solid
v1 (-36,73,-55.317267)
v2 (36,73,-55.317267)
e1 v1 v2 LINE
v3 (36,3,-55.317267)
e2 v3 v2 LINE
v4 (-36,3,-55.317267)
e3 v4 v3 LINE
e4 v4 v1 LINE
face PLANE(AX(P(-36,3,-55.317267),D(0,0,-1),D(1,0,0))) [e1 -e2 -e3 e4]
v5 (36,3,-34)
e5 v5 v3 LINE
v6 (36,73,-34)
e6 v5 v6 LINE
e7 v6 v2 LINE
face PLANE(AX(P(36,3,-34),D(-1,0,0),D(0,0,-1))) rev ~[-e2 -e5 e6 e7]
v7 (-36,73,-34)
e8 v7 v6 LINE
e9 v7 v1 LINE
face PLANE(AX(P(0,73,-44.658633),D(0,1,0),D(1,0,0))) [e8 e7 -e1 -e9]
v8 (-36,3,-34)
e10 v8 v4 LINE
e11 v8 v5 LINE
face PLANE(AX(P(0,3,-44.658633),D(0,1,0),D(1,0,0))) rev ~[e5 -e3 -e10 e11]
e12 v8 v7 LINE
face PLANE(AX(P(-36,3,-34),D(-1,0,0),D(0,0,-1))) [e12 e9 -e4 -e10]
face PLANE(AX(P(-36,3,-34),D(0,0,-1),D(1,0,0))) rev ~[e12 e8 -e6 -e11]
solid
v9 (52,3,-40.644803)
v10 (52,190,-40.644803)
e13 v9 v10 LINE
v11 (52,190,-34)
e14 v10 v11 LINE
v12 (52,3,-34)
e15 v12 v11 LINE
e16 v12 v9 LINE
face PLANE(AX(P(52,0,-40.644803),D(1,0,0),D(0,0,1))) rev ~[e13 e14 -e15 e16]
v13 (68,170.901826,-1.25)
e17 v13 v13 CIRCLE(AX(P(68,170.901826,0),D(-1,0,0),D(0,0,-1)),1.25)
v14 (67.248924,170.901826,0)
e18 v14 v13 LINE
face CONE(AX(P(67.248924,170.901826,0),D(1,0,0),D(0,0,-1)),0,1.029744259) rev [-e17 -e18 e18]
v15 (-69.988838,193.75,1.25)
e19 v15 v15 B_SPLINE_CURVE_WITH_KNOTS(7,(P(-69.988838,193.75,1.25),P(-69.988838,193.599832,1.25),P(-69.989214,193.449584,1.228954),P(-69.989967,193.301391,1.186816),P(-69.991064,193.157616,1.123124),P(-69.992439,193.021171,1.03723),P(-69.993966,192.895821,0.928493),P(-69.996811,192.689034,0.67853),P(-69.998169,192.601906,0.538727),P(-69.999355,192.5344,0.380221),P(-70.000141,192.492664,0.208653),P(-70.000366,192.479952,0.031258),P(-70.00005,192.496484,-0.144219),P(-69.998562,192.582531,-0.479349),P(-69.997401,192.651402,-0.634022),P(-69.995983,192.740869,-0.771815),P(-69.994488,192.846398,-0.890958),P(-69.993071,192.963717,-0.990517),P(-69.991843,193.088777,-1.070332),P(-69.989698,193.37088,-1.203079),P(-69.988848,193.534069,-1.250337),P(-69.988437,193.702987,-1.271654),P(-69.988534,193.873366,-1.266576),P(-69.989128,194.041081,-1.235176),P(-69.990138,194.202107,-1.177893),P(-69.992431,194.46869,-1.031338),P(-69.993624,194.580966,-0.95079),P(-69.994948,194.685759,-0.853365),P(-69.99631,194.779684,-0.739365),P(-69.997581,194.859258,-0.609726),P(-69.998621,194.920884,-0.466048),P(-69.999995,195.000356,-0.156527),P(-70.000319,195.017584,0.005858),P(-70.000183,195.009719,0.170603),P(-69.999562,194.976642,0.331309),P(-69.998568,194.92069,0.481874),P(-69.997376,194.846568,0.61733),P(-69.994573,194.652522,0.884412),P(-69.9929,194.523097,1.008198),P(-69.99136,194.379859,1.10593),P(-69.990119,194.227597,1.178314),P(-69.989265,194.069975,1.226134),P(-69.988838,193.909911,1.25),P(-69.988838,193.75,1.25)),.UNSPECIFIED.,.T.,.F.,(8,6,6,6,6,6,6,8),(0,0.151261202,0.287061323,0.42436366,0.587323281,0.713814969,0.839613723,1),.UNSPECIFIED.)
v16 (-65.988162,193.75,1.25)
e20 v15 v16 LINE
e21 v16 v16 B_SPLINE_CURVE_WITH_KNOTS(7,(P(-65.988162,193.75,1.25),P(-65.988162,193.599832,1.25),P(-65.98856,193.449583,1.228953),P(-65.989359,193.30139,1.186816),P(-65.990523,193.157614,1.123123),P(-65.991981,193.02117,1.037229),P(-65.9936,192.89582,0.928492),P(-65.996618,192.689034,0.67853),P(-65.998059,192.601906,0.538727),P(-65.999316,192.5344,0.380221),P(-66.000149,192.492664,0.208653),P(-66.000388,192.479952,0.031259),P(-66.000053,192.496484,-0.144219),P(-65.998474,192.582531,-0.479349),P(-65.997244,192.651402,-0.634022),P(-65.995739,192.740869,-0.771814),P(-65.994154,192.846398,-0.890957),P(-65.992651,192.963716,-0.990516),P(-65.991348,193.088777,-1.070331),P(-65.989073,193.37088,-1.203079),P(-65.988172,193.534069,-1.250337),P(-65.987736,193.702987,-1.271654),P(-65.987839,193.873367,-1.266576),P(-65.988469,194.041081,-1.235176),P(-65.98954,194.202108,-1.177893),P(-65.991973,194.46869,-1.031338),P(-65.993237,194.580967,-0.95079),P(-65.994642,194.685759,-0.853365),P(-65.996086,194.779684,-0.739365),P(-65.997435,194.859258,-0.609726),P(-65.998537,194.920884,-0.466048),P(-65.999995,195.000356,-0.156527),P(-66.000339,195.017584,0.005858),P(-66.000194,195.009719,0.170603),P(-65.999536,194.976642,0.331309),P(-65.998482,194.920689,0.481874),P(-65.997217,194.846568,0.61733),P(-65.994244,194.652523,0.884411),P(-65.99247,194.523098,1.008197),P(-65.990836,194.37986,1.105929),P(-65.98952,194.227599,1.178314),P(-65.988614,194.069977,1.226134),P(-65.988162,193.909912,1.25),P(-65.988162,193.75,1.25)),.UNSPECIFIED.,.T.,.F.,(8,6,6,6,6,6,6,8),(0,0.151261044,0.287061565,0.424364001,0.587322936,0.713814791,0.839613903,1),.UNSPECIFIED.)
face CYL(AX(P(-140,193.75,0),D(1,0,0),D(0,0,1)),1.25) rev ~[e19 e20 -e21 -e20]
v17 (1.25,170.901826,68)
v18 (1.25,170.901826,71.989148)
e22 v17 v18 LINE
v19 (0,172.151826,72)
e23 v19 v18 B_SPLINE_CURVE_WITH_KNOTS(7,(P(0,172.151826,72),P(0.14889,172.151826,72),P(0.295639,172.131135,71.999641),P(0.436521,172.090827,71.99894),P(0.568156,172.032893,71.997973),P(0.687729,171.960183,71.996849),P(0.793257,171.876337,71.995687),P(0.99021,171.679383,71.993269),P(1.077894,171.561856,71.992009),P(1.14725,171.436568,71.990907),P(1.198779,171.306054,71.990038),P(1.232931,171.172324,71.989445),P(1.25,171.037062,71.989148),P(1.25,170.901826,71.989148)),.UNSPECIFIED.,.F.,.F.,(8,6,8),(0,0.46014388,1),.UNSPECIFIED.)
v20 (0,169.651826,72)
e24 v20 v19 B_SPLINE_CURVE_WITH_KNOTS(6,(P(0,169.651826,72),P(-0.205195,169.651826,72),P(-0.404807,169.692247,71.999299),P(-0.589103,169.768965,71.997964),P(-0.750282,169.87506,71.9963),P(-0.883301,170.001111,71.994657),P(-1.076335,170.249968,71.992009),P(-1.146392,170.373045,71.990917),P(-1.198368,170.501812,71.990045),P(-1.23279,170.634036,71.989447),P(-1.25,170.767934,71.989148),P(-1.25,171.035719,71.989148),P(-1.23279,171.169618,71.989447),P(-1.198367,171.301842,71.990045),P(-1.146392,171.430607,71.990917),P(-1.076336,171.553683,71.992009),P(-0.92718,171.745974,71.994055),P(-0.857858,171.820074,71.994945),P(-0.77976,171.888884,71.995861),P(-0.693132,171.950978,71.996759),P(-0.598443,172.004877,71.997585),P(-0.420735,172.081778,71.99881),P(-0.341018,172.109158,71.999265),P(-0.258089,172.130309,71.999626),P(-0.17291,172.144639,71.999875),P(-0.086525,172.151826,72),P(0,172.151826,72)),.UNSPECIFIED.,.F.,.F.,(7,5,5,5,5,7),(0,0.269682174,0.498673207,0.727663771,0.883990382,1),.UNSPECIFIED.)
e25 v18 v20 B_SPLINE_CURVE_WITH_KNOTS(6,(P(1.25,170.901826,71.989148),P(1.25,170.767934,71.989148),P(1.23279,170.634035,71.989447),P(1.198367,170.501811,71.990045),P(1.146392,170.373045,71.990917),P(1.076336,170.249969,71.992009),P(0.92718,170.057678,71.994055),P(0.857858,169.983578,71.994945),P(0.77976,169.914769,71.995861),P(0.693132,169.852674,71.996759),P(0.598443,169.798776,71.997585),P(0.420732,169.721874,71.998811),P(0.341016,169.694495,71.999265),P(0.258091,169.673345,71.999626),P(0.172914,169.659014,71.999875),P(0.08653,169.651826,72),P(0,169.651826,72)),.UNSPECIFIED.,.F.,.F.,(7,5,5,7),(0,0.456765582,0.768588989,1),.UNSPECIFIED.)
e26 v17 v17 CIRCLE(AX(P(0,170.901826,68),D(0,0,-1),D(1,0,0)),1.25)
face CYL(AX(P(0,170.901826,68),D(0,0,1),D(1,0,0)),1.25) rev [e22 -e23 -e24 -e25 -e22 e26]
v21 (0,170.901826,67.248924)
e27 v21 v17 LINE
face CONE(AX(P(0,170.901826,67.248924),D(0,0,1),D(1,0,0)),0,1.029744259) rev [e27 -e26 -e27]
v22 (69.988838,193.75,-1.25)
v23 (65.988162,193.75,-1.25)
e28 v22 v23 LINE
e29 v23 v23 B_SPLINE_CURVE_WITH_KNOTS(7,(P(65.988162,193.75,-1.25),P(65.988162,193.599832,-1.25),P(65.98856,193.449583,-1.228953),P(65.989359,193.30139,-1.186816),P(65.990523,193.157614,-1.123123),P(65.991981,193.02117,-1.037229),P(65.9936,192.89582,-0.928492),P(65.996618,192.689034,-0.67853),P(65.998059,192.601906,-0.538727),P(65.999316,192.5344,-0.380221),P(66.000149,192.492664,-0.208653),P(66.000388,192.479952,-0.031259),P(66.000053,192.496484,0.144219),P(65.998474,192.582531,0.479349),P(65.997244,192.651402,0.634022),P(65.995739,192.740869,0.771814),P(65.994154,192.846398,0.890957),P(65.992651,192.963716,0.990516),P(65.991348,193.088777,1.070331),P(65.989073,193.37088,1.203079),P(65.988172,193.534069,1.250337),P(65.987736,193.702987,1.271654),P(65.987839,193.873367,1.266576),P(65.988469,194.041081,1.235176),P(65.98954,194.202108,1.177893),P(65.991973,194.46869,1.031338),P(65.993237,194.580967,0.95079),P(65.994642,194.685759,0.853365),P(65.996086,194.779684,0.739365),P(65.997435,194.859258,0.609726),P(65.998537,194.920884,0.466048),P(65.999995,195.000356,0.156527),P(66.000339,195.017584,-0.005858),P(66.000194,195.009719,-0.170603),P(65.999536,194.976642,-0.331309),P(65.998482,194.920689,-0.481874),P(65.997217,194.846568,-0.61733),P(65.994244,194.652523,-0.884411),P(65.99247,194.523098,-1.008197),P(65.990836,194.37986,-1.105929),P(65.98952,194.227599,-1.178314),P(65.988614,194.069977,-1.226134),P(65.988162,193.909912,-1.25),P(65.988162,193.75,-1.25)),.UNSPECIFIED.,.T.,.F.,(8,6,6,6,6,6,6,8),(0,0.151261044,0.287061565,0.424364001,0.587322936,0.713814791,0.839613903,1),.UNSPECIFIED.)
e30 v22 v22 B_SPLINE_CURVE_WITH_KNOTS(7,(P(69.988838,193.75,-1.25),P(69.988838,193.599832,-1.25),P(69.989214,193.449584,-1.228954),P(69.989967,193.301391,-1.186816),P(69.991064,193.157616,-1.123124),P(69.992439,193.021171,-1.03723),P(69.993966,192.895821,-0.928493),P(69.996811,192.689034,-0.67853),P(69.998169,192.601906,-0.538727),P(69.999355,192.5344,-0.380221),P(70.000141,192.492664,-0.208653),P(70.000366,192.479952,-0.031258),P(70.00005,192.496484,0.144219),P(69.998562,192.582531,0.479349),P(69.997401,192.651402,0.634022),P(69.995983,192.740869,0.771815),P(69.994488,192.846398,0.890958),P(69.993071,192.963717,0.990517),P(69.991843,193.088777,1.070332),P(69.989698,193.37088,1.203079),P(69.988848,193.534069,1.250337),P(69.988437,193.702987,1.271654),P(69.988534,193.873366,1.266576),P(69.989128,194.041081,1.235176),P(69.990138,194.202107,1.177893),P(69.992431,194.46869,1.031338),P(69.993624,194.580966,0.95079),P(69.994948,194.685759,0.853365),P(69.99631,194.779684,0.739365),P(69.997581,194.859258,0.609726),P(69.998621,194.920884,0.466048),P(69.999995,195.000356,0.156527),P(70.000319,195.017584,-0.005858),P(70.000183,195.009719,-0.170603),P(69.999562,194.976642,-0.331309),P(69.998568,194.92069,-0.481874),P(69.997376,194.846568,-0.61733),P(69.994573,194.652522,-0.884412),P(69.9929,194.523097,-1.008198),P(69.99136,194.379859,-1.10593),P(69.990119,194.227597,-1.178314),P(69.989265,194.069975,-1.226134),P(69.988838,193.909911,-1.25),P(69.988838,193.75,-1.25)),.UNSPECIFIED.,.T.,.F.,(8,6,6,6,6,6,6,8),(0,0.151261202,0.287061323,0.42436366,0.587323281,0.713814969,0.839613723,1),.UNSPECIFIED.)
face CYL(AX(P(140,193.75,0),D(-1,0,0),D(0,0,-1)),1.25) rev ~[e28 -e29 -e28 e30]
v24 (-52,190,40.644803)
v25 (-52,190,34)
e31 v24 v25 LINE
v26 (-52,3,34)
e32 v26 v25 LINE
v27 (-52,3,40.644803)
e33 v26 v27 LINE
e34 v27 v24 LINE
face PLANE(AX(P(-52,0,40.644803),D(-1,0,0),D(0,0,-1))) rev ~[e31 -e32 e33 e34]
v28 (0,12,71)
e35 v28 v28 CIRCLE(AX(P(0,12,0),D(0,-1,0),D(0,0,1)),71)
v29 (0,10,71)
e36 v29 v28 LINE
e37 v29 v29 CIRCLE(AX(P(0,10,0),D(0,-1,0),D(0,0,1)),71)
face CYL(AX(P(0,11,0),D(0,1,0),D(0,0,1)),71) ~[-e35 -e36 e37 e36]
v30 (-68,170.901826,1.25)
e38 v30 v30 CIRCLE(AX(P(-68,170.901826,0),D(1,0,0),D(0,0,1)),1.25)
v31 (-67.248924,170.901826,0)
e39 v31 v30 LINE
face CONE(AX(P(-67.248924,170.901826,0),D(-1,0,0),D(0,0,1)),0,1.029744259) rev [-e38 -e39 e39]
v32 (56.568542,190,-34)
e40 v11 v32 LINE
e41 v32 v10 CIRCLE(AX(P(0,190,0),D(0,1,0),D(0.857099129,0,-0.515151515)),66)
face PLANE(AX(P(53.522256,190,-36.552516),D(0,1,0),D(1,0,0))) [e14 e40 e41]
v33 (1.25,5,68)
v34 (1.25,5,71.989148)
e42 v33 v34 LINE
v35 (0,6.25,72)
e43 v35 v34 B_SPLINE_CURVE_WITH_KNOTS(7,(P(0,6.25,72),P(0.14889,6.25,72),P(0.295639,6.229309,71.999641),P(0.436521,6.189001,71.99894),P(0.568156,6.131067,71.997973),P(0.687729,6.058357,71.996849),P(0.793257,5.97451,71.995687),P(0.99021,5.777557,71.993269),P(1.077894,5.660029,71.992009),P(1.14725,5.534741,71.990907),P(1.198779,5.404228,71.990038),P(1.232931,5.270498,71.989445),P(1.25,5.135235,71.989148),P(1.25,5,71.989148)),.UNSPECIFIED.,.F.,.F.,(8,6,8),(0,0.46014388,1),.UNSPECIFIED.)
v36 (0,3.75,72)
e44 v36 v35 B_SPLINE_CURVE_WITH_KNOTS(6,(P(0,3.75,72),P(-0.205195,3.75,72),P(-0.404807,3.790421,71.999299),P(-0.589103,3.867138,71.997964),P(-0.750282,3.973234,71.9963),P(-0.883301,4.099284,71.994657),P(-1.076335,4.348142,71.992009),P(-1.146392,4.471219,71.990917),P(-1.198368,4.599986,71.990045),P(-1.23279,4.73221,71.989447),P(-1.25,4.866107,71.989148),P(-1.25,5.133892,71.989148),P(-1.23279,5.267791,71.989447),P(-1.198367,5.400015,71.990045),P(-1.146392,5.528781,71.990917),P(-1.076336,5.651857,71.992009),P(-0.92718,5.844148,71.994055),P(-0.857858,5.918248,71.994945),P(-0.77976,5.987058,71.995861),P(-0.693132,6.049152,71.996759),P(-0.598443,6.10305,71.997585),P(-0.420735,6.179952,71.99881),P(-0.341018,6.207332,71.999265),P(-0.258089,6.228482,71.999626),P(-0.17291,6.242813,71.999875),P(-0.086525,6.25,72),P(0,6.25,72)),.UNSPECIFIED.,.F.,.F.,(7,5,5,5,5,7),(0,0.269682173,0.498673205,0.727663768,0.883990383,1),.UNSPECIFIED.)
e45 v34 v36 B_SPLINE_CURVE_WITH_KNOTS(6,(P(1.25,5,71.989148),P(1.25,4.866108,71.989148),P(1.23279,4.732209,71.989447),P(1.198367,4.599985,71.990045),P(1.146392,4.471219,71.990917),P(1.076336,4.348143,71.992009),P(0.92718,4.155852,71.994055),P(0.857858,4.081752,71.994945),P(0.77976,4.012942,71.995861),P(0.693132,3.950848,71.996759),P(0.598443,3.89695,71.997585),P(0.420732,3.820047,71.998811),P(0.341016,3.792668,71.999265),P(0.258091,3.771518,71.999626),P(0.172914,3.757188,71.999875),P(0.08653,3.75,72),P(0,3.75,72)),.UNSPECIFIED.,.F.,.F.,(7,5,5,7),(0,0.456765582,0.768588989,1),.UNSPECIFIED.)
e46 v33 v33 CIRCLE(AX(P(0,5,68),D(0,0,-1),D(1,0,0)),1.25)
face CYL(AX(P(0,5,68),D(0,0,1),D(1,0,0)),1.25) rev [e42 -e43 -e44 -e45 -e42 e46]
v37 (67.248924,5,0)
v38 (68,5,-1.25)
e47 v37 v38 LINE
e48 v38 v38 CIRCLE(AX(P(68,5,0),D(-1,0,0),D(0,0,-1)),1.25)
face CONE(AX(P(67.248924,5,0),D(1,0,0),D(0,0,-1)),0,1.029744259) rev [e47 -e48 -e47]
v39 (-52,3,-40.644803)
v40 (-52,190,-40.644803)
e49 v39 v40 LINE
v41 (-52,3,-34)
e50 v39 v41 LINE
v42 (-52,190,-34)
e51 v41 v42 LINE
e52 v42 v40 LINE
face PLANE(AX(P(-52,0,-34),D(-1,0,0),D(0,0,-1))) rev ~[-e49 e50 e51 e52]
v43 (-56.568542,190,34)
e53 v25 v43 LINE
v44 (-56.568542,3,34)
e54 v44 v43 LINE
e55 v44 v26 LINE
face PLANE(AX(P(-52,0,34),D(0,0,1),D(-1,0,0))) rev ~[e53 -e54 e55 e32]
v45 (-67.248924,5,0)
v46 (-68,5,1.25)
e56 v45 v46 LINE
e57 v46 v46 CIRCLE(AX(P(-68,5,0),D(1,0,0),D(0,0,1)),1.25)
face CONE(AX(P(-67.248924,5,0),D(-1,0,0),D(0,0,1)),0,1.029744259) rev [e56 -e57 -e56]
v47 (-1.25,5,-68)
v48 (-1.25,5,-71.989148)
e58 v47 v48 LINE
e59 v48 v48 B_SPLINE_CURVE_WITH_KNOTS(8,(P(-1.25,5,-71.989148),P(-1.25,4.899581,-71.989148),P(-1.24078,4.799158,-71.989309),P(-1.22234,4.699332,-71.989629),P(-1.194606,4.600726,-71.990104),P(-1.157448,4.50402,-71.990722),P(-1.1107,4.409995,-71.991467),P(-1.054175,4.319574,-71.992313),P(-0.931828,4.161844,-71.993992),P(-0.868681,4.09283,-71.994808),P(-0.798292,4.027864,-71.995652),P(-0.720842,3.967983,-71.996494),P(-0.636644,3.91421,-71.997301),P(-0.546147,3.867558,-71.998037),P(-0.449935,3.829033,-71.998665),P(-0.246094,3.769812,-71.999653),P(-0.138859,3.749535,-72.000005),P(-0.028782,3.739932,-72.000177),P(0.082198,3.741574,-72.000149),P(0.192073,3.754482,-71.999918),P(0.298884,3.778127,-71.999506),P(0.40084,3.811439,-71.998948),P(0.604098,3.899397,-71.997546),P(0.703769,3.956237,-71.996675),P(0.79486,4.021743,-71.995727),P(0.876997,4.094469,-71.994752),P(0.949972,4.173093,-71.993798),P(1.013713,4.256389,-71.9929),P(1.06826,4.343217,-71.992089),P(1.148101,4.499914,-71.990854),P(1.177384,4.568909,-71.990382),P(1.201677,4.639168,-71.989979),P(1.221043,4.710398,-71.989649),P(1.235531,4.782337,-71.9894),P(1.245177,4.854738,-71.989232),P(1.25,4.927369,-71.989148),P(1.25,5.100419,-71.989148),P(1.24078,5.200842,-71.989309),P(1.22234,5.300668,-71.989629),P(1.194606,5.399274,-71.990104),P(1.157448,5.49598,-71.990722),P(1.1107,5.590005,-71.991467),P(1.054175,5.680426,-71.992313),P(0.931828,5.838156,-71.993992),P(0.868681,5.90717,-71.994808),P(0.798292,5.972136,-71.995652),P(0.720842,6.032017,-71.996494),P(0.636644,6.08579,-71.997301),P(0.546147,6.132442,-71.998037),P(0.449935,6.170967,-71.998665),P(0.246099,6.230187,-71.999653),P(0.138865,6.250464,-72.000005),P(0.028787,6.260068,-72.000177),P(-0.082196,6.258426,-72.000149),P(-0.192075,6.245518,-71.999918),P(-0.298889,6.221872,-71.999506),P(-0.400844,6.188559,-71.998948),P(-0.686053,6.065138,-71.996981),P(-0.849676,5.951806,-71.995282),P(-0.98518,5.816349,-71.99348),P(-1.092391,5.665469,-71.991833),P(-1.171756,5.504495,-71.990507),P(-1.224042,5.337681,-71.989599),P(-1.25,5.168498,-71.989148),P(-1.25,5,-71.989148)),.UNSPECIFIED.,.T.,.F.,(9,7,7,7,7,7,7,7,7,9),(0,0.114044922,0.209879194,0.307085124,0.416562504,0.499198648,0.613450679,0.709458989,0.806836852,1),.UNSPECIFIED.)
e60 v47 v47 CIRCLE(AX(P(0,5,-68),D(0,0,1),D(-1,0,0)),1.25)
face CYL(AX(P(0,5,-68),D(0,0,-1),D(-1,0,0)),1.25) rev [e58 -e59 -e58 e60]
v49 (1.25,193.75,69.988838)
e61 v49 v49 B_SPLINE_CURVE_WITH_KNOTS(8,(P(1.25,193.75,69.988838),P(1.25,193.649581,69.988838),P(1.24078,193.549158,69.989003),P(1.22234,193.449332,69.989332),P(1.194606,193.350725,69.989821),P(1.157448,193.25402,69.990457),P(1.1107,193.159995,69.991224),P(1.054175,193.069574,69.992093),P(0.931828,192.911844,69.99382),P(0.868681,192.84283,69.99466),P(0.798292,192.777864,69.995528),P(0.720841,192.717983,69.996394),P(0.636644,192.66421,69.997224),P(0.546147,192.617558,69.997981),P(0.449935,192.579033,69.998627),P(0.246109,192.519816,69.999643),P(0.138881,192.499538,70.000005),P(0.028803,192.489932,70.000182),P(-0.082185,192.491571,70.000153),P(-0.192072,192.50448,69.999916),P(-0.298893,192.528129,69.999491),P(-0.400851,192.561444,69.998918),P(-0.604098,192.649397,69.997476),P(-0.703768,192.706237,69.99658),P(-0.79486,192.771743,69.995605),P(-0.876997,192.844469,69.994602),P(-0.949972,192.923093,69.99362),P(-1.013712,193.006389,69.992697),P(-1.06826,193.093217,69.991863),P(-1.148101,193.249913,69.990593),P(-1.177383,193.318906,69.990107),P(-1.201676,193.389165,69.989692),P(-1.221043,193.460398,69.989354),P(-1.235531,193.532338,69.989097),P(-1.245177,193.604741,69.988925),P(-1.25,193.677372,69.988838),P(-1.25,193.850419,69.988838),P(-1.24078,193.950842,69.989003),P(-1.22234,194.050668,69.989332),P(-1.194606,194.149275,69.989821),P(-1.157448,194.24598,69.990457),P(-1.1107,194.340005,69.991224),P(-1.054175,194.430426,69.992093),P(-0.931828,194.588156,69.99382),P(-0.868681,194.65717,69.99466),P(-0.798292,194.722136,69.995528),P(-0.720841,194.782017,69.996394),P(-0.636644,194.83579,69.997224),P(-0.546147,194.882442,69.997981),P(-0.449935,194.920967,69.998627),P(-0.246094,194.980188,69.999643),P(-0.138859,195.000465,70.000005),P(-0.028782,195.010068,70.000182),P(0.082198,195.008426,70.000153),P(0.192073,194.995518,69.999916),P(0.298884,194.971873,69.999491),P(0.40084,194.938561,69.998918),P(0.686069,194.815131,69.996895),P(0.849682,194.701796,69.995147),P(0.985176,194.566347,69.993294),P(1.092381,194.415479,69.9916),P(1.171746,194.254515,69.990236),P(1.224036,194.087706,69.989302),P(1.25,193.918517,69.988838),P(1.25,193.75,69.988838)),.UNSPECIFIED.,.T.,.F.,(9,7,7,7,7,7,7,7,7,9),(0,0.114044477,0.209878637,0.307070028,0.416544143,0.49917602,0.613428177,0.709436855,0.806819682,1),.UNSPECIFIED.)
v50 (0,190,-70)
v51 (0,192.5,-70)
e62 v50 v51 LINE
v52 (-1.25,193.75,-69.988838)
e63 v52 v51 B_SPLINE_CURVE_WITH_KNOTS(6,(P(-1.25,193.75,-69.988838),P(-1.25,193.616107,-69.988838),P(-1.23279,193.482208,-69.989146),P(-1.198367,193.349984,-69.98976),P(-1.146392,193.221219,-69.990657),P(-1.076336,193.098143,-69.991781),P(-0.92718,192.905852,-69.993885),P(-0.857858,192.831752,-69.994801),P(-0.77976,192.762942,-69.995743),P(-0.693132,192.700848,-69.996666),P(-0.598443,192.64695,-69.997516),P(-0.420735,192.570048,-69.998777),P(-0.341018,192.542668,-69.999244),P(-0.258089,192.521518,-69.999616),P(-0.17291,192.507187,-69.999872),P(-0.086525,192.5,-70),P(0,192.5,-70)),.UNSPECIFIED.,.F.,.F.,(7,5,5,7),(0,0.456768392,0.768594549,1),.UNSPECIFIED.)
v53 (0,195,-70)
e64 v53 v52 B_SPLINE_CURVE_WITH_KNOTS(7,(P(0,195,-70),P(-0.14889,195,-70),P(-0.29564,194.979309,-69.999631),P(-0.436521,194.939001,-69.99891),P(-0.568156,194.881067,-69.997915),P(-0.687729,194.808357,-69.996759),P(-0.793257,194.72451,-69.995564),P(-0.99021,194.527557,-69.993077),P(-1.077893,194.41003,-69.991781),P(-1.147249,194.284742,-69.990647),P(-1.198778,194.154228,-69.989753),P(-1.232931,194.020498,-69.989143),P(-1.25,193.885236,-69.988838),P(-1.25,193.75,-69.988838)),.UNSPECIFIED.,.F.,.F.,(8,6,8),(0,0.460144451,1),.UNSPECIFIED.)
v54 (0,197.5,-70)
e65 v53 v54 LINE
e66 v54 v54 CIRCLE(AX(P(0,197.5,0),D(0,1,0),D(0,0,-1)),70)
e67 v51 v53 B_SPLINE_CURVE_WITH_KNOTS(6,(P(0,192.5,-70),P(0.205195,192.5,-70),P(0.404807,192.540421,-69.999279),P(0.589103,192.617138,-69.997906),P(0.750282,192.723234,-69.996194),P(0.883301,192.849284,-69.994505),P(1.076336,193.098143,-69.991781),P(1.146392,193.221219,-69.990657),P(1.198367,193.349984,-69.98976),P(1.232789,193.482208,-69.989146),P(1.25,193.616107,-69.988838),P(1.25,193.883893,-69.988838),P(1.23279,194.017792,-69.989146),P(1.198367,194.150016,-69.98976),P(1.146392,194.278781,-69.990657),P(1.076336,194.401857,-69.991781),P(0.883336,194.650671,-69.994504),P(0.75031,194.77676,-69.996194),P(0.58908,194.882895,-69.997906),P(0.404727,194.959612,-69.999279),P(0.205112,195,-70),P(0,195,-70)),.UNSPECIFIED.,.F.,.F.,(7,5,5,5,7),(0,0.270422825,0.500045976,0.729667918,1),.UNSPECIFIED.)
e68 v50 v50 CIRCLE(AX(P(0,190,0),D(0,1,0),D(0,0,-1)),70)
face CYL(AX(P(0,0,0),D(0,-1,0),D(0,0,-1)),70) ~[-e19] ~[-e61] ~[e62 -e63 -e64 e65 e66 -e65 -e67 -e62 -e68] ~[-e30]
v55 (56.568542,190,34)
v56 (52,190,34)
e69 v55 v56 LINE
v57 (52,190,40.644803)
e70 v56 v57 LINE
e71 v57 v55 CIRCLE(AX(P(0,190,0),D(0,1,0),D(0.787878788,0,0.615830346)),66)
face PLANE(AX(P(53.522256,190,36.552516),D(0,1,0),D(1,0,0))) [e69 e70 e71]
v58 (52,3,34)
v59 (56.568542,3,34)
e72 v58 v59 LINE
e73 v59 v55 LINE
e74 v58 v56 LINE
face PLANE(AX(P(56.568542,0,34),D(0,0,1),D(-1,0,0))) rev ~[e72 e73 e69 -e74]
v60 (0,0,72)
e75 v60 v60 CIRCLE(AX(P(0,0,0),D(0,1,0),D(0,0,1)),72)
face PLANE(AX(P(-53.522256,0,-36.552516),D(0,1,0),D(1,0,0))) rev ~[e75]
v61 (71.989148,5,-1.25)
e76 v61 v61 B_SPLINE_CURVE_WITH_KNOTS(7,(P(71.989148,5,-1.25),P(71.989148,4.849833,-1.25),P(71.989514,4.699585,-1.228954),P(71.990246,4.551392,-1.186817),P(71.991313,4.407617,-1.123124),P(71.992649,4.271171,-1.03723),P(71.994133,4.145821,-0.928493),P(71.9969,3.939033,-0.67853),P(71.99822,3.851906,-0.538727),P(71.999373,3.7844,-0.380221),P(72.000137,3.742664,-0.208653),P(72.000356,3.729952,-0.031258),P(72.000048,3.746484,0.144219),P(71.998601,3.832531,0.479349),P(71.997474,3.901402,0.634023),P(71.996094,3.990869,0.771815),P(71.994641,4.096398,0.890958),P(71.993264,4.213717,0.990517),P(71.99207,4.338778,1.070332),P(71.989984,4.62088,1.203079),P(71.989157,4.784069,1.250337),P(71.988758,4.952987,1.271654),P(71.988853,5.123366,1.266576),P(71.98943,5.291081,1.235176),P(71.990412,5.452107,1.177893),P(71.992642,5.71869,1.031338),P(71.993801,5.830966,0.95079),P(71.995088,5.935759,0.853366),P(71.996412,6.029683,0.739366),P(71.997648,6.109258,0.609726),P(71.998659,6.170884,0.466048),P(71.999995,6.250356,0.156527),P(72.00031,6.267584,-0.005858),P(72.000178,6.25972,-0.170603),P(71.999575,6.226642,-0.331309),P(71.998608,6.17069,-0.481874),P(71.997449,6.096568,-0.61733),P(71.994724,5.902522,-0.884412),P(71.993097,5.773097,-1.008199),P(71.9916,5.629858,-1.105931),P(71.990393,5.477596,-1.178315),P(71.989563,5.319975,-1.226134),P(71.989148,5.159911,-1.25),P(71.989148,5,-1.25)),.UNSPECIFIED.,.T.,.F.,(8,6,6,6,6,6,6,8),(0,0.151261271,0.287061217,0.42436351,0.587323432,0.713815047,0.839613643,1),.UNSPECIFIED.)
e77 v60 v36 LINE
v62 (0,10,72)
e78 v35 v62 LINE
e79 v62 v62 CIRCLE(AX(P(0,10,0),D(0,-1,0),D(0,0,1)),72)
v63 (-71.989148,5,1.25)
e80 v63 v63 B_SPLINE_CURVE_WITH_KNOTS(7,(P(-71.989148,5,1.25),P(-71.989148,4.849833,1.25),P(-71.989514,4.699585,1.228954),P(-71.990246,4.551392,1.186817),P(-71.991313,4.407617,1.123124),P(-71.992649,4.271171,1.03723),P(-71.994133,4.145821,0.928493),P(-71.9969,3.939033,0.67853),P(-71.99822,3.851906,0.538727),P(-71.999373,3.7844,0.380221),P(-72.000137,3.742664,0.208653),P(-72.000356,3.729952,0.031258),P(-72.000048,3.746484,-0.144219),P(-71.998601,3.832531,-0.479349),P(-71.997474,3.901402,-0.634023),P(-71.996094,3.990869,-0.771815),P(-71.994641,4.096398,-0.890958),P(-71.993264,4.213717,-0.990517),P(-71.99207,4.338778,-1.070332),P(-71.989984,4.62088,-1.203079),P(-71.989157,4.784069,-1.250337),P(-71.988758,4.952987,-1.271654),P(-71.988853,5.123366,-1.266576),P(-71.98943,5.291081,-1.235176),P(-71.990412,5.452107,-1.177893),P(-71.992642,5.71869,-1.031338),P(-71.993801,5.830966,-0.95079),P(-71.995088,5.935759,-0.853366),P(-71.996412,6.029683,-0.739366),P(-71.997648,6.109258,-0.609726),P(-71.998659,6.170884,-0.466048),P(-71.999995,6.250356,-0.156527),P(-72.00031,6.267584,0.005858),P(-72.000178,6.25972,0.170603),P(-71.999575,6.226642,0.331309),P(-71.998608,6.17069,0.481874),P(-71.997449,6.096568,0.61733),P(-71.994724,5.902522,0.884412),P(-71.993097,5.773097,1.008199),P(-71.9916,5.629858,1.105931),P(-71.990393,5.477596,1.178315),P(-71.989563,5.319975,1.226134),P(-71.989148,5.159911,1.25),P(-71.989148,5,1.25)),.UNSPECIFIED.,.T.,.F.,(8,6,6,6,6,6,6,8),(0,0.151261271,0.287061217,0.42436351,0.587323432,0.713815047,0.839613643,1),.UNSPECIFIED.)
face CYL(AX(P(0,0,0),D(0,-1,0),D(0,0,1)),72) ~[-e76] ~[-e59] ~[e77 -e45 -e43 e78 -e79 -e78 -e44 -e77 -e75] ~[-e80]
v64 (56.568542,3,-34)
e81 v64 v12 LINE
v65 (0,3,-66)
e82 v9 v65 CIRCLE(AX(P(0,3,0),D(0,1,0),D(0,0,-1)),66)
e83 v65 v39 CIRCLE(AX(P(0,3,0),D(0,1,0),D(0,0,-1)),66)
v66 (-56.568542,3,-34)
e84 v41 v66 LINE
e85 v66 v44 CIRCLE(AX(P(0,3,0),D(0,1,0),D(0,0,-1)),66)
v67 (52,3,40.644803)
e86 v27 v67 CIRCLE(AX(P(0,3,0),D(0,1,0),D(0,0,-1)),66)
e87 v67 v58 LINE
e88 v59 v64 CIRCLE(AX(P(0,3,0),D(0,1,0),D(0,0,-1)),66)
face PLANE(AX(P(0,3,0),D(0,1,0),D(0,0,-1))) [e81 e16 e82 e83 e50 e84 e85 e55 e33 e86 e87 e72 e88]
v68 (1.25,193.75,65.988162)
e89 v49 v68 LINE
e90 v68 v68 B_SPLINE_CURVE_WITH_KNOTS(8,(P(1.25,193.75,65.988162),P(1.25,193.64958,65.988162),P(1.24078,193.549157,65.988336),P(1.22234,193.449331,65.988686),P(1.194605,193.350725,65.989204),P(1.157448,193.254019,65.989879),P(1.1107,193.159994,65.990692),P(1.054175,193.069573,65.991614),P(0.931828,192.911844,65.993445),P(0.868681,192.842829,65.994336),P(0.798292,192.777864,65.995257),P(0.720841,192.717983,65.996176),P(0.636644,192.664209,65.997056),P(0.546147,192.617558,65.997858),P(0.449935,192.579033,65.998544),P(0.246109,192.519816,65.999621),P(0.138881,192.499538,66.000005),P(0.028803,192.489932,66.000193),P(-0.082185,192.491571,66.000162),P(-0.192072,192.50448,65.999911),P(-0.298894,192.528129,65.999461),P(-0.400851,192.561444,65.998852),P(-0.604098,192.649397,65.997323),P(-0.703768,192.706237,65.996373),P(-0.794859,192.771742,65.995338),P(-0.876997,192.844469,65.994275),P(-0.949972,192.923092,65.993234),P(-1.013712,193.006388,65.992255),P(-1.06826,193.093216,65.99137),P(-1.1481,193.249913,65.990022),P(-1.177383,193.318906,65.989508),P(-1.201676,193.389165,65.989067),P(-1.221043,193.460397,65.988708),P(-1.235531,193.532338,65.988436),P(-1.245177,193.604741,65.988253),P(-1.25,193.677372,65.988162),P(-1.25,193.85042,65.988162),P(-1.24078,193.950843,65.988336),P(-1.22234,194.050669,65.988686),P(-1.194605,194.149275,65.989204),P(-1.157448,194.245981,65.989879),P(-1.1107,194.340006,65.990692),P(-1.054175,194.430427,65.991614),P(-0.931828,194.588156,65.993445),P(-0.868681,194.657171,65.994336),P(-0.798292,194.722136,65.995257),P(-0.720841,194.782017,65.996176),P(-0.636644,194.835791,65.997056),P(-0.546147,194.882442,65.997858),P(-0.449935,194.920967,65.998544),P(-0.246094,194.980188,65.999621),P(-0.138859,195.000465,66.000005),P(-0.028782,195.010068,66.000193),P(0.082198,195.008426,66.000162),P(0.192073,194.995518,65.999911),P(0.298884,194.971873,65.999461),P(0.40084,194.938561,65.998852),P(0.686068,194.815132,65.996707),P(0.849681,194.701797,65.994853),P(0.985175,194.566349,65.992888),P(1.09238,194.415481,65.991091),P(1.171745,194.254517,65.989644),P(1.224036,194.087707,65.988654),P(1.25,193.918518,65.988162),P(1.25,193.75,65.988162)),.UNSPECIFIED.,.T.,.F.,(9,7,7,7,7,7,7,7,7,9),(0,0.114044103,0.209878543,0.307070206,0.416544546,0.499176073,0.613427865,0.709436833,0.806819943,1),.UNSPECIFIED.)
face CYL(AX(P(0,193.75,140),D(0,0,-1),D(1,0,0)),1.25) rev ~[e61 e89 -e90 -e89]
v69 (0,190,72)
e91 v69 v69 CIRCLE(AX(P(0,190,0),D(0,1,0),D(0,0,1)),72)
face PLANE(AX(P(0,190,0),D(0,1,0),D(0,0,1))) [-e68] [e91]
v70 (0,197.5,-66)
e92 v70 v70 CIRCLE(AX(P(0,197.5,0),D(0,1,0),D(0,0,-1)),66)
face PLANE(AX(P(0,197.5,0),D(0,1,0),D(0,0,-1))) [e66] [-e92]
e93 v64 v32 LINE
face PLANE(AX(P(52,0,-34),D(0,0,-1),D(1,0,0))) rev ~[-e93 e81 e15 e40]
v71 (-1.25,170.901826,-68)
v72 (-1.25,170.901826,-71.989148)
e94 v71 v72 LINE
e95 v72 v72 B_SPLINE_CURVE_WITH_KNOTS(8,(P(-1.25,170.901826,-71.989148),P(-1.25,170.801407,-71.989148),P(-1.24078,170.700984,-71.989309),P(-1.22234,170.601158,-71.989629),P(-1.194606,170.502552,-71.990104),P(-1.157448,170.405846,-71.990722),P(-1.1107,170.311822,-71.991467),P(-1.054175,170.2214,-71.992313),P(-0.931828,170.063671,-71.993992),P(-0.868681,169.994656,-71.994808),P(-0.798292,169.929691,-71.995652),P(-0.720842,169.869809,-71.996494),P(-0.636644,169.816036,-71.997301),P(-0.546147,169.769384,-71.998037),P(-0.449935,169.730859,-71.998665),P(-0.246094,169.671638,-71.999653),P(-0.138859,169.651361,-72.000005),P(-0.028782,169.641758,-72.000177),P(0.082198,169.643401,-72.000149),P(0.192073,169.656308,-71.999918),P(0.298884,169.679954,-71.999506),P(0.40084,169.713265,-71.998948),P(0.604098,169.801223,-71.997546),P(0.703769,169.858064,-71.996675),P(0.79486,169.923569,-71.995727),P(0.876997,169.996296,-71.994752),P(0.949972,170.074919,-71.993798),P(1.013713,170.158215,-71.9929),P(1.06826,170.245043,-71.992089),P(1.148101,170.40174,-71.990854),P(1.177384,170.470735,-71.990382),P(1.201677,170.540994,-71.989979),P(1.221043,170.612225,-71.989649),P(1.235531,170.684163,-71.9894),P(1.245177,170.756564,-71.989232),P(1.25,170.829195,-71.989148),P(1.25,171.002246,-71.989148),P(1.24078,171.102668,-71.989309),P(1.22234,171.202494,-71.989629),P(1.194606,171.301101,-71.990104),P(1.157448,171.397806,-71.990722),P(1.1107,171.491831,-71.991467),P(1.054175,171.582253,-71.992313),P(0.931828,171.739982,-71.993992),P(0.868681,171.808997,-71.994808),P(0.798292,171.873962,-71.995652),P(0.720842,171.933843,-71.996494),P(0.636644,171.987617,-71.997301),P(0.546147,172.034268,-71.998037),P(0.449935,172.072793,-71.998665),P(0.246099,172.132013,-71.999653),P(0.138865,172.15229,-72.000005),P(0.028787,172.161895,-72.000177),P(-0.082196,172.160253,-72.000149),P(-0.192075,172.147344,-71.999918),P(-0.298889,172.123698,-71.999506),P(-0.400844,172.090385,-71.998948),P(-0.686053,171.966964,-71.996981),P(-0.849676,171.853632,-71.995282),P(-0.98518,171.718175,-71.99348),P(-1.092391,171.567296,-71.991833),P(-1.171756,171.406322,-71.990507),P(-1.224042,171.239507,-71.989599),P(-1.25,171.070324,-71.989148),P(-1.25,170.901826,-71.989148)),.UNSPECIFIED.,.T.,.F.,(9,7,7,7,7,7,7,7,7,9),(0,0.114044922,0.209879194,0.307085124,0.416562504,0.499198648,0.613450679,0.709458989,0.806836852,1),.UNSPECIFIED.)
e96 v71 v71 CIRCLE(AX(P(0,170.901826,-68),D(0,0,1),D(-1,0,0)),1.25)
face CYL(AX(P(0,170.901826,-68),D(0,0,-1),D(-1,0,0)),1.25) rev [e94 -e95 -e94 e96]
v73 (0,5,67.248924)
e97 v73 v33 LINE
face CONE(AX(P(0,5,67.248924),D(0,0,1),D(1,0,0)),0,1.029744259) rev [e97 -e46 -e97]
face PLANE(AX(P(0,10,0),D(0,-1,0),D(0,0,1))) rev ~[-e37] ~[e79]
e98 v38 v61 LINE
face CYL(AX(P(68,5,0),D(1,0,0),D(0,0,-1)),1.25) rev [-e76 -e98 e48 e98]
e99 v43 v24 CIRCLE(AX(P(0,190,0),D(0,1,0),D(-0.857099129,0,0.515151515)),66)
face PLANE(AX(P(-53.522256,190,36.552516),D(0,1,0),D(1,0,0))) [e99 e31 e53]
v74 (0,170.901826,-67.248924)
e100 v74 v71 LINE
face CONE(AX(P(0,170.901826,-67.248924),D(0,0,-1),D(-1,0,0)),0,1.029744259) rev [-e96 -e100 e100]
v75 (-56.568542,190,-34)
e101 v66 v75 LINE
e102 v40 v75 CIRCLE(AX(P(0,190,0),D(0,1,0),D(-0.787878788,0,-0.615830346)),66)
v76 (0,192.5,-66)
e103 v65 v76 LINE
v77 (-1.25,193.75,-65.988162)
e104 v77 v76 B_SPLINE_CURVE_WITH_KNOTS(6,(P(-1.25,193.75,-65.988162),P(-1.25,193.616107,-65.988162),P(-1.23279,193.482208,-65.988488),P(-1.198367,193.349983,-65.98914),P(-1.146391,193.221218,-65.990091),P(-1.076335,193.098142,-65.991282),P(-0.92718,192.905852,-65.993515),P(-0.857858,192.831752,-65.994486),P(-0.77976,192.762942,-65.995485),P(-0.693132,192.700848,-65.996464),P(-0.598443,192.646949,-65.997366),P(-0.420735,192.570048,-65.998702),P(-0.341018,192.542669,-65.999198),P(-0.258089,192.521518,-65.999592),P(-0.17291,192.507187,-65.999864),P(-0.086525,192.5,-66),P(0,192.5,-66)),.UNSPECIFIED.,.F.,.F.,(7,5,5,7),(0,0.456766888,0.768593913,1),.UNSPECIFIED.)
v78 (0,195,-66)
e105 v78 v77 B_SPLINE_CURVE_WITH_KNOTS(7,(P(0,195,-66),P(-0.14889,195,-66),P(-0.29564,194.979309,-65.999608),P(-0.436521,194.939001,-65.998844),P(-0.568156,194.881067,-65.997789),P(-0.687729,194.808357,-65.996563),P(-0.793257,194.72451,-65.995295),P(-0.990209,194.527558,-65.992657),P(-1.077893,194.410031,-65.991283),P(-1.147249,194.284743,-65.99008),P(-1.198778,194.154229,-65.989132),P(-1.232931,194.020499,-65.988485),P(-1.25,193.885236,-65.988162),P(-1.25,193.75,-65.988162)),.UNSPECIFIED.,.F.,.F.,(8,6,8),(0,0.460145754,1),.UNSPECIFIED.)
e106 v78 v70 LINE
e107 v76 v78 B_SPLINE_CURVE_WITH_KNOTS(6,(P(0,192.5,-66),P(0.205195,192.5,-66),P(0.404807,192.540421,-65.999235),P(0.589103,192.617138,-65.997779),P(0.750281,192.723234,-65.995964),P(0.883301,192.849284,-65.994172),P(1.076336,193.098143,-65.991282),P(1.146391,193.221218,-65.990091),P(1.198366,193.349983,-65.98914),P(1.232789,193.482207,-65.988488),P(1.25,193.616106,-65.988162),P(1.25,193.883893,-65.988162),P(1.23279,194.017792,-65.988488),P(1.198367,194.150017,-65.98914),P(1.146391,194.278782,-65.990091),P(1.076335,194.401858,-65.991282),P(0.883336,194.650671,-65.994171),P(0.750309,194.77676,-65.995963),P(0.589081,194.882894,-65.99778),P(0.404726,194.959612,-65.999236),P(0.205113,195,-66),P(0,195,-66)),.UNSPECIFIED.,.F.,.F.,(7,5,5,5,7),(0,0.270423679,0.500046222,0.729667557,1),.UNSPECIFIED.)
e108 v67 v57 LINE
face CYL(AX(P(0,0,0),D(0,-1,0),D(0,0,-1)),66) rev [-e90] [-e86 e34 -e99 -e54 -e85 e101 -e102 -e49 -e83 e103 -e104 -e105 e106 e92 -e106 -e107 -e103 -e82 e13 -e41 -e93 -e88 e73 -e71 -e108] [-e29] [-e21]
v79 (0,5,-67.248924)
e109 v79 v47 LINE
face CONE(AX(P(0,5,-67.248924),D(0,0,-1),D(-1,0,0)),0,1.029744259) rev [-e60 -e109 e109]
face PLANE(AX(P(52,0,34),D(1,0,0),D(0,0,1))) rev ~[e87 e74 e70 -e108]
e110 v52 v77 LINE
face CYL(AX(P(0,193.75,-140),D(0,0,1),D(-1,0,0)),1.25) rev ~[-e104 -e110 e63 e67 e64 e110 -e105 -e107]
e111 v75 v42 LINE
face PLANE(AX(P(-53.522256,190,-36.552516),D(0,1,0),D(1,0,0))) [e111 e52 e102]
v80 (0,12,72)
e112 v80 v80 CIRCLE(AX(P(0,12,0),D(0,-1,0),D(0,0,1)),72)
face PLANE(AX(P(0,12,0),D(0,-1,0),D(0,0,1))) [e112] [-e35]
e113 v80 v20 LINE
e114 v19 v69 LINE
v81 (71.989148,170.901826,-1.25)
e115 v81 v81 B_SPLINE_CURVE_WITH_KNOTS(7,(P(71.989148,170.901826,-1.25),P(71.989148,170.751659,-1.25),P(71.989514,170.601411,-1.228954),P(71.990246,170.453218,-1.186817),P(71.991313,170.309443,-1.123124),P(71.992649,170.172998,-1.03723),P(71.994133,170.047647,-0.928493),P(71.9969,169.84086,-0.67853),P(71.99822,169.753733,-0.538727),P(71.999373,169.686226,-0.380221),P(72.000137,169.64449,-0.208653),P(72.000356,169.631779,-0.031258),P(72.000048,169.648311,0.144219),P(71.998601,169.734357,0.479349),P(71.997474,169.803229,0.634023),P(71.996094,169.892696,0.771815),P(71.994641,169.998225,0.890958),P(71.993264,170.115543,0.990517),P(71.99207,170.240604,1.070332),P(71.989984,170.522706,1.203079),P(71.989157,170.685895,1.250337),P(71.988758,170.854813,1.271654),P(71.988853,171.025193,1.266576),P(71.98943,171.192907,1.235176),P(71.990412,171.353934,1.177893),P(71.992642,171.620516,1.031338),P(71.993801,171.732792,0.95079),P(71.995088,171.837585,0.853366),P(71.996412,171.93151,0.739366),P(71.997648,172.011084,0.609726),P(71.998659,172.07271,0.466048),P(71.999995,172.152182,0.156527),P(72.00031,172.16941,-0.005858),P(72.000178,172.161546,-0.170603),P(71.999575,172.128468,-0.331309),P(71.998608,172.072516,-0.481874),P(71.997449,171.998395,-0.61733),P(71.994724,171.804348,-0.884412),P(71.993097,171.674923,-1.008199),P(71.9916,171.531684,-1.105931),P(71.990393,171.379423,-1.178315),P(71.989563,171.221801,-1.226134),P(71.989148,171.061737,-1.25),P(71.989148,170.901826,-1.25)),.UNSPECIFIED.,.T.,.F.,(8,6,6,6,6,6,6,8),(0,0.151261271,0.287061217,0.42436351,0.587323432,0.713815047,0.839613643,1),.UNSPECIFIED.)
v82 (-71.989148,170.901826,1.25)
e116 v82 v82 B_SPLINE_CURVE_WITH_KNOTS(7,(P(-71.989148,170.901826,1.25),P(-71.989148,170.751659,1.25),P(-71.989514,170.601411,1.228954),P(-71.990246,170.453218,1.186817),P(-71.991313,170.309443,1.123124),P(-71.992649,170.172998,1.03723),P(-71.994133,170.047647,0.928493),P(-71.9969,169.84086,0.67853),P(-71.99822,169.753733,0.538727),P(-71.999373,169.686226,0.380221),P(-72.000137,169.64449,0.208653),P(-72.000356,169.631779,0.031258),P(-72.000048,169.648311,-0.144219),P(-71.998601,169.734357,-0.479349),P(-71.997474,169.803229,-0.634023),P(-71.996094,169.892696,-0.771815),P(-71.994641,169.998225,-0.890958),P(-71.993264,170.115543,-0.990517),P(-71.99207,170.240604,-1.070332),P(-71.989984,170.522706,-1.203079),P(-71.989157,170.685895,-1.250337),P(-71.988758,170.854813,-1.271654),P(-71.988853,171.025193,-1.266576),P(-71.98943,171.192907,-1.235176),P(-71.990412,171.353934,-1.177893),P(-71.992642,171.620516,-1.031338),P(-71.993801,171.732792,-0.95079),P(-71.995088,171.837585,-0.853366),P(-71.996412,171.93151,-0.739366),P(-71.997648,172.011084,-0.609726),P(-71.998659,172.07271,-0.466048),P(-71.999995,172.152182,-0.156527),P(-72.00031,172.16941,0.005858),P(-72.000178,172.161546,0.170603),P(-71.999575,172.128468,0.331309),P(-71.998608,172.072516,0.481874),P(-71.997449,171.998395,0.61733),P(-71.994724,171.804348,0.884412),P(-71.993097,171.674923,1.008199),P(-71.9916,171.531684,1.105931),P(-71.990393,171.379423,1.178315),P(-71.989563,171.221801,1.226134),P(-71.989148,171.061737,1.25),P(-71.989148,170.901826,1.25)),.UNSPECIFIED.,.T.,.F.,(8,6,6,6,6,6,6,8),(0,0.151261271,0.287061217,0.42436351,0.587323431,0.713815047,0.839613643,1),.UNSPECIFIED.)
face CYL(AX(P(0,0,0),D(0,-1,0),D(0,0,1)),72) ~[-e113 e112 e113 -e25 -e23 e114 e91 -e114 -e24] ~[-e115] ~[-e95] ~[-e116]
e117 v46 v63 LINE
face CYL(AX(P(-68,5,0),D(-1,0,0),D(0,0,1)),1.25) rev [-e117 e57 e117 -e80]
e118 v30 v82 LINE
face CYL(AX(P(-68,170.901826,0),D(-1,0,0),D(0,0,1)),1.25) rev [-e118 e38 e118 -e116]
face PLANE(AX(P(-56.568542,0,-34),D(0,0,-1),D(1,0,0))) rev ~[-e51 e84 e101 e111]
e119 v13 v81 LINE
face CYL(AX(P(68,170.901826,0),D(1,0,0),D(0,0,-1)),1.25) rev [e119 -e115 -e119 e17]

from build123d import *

# Parameters (mm, degrees)
SKETCH_6_R               = 72
SKETCH_6_R_2             = 70
EXTRUDE_1_DEPTH          = 190
SKETCH_6_15_R            = 70
SKETCH_6_15_R_2          = 66
EXTRUDE_2_DEPTH          = 197.5
SKETCH_6_16_R            = 66
EXTRUDE_3_DEPTH          = 3
EXTRUDE_6_DEPTH          = 190
F_2_5MM_3_D              = 2.5
F_2_5MM_3_DEPTH          = 70
PATTERN_CIRCULAR_1_COUNT = 4
SKETCH_33_W              = 1
SKETCH_33_H              = 2
PATTERN_CIRCULAR_2_COUNT = 4
PATTERN_CIRCULAR_3_COUNT = 4
SKETCH_40_W              = 72
SKETCH_40_H              = 21.317266744
EXTRUDE_8_DEPTH          = 70


with BuildPart() as part:
    # 草圖6 → 填料-伸長1 (new body)
    with BuildSketch(Plane(origin=(0, 0, 0), x_dir=(1, 0, 0), z_dir=(0, 1, 0))):
        with Locations(Location((0, 0, 0), (0, 0, 270))):
            Circle(SKETCH_6_R)
        with Locations(Location((0, 0, 0), (0, 0, 270))):
            Circle(SKETCH_6_R_2, mode=Mode.SUBTRACT)
    extrude(amount=EXTRUDE_1_DEPTH)

    # 草圖6<15> → 填料-伸長2 (add)
    with BuildSketch(Plane(origin=(0, 0, 0), x_dir=(1, 0, 0), z_dir=(0, 1, 0))):
        with Locations(Location((0, 0, 0), (0, 0, 90))):
            Circle(SKETCH_6_15_R)
        with Locations(Location((0, 0, 0), (0, 0, 90))):
            Circle(SKETCH_6_15_R_2, mode=Mode.SUBTRACT)
    extrude(amount=EXTRUDE_2_DEPTH)

    # 草圖6<16> → 填料-伸長3 (add)
    with BuildSketch(Plane(origin=(0, 0, 0), x_dir=(1, 0, 0), z_dir=(0, 1, 0))):
        with Locations(Location((0, 0, 0), (0, 0, 90))):
            Circle(SKETCH_6_16_R)
    extrude(amount=EXTRUDE_3_DEPTH)

    # 草圖9 → 填料-伸長6 (add)
    with BuildSketch(Plane(origin=(0, 0, 0), x_dir=(1, 0, 0), z_dir=(0, 1, 0))):
        with BuildLine():
            Line((-52, 34), (-52, 40.644802866))
            ThreePointArc((-52, 40.644802866), (-54.38584794, 37.392239086), (-56.568542495, 34))
            Line((-56.568542495, 34), (-52, 34))
        make_face()
        with BuildLine():
            Line((-52, -34), (-56.568542495, -34))
            ThreePointArc((-56.568542495, -34), (-54.38584794, -37.392239086), (-52, -40.644802866))
            Line((-52, -40.644802866), (-52, -34))
        make_face()
        with BuildLine():
            Line((56.568542495, -34), (52, -34))
            Line((52, -34), (52, -40.644802866))
            ThreePointArc((52, -40.644802866), (54.38584794, -37.392239086), (56.568542495, -34))
        make_face()
        with BuildLine():
            ThreePointArc((56.568542495, 34), (54.38584794, 37.392239086), (52, 40.644802866))
            Line((52, 40.644802866), (52, 34))
            Line((52, 34), (56.568542495, 34))
        make_face()
    extrude(amount=EXTRUDE_6_DEPTH)

    # Ø2.5mm 定位孔3
    with Locations(Plane(origin=(70, 193.75, 0), x_dir=(0, 0, 1), z_dir=(1, 0, 0))):
        with Locations((0, 0)):
            f_2_5mm_3 = Hole(F_2_5MM_3_D / 2, depth=F_2_5MM_3_DEPTH)

    # 環狀複製排列1: Ø2.5mm 定位孔3 ×4 about axis
    pattern_circular_1_axis = Axis((0, 197.5, 0), (0, 1, 0))
    for i in range(1, PATTERN_CIRCULAR_1_COUNT):
        add(f_2_5mm_3.rotate(pattern_circular_1_axis, i * 360 / PATTERN_CIRCULAR_1_COUNT), mode=Mode.SUBTRACT)

    # 草圖33 → 除料-旋轉1 (revolve, cut)
    with BuildSketch(Plane.XY, mode=Mode.PRIVATE) as cut_revolve_1_sk:
        with Locations((-71.5, 11)):
            Rectangle(SKETCH_33_W, SKETCH_33_H)
    revolve(cut_revolve_1_sk.sketch.rotate(Axis((0, 197.5, 0), (0, -1, 0)), 270), axis=Axis((0, 197.5, 0), (0, -1, 0)), mode=Mode.SUBTRACT)

    # 草圖37 → Ø2.5mm 定位孔4 (revolve, cut)
    with BuildSketch(Plane(origin=(-72, 5, 0), x_dir=(0, 0, 1), z_dir=(0, 1, 0))):
        Polygon((0, 0), (0, 4.751075774), (1.25, 4), (1.25, 0), align=None)
    f_2_5mm_4 = revolve(axis=Axis((-78.35, 5, 0), (1, 0, 0)), mode=Mode.SUBTRACT)

    # 環狀複製排列2: Ø2.5mm 定位孔4 ×4 about axis
    pattern_circular_2_axis = Axis((0, 197.5, 0), (0, -1, 0))
    for i in range(1, PATTERN_CIRCULAR_2_COUNT):
        add(f_2_5mm_4.rotate(pattern_circular_2_axis, i * 360 / PATTERN_CIRCULAR_2_COUNT), mode=Mode.SUBTRACT)

    # 草圖38 → Ø2.5mm 定位孔5 (revolve, cut)
    with BuildSketch(Plane(origin=(-72, 170.901826282, 0), x_dir=(0, 0, 1), z_dir=(0, 1, 0))):
        Polygon((0, 0), (0, 4.751075774), (1.25, 4), (1.25, 0), align=None)
    f_2_5mm_5 = revolve(axis=Axis((-78.35, 170.901826282, 0), (1, 0, 0)), mode=Mode.SUBTRACT)

    # 環狀複製排列3: Ø2.5mm 定位孔5 ×4 about axis
    pattern_circular_3_axis = Axis((0, 197.5, 0), (0, -1, 0))
    for i in range(1, PATTERN_CIRCULAR_3_COUNT):
        add(f_2_5mm_5.rotate(pattern_circular_3_axis, i * 360 / PATTERN_CIRCULAR_3_COUNT), mode=Mode.SUBTRACT)


with BuildPart() as body_2:
    # 草圖40 → 填料-伸長8 (new body)
    with BuildSketch(Plane(origin=(0, 3, 0), x_dir=(1, 0, 0), z_dir=(0, 1, 0))):
        with Locations((0, 44.658633372)):
            Rectangle(SKETCH_40_W, SKETCH_40_H)
    extrude(amount=EXTRUDE_8_DEPTH)


solid = Compound([part.part, body_2.part])
